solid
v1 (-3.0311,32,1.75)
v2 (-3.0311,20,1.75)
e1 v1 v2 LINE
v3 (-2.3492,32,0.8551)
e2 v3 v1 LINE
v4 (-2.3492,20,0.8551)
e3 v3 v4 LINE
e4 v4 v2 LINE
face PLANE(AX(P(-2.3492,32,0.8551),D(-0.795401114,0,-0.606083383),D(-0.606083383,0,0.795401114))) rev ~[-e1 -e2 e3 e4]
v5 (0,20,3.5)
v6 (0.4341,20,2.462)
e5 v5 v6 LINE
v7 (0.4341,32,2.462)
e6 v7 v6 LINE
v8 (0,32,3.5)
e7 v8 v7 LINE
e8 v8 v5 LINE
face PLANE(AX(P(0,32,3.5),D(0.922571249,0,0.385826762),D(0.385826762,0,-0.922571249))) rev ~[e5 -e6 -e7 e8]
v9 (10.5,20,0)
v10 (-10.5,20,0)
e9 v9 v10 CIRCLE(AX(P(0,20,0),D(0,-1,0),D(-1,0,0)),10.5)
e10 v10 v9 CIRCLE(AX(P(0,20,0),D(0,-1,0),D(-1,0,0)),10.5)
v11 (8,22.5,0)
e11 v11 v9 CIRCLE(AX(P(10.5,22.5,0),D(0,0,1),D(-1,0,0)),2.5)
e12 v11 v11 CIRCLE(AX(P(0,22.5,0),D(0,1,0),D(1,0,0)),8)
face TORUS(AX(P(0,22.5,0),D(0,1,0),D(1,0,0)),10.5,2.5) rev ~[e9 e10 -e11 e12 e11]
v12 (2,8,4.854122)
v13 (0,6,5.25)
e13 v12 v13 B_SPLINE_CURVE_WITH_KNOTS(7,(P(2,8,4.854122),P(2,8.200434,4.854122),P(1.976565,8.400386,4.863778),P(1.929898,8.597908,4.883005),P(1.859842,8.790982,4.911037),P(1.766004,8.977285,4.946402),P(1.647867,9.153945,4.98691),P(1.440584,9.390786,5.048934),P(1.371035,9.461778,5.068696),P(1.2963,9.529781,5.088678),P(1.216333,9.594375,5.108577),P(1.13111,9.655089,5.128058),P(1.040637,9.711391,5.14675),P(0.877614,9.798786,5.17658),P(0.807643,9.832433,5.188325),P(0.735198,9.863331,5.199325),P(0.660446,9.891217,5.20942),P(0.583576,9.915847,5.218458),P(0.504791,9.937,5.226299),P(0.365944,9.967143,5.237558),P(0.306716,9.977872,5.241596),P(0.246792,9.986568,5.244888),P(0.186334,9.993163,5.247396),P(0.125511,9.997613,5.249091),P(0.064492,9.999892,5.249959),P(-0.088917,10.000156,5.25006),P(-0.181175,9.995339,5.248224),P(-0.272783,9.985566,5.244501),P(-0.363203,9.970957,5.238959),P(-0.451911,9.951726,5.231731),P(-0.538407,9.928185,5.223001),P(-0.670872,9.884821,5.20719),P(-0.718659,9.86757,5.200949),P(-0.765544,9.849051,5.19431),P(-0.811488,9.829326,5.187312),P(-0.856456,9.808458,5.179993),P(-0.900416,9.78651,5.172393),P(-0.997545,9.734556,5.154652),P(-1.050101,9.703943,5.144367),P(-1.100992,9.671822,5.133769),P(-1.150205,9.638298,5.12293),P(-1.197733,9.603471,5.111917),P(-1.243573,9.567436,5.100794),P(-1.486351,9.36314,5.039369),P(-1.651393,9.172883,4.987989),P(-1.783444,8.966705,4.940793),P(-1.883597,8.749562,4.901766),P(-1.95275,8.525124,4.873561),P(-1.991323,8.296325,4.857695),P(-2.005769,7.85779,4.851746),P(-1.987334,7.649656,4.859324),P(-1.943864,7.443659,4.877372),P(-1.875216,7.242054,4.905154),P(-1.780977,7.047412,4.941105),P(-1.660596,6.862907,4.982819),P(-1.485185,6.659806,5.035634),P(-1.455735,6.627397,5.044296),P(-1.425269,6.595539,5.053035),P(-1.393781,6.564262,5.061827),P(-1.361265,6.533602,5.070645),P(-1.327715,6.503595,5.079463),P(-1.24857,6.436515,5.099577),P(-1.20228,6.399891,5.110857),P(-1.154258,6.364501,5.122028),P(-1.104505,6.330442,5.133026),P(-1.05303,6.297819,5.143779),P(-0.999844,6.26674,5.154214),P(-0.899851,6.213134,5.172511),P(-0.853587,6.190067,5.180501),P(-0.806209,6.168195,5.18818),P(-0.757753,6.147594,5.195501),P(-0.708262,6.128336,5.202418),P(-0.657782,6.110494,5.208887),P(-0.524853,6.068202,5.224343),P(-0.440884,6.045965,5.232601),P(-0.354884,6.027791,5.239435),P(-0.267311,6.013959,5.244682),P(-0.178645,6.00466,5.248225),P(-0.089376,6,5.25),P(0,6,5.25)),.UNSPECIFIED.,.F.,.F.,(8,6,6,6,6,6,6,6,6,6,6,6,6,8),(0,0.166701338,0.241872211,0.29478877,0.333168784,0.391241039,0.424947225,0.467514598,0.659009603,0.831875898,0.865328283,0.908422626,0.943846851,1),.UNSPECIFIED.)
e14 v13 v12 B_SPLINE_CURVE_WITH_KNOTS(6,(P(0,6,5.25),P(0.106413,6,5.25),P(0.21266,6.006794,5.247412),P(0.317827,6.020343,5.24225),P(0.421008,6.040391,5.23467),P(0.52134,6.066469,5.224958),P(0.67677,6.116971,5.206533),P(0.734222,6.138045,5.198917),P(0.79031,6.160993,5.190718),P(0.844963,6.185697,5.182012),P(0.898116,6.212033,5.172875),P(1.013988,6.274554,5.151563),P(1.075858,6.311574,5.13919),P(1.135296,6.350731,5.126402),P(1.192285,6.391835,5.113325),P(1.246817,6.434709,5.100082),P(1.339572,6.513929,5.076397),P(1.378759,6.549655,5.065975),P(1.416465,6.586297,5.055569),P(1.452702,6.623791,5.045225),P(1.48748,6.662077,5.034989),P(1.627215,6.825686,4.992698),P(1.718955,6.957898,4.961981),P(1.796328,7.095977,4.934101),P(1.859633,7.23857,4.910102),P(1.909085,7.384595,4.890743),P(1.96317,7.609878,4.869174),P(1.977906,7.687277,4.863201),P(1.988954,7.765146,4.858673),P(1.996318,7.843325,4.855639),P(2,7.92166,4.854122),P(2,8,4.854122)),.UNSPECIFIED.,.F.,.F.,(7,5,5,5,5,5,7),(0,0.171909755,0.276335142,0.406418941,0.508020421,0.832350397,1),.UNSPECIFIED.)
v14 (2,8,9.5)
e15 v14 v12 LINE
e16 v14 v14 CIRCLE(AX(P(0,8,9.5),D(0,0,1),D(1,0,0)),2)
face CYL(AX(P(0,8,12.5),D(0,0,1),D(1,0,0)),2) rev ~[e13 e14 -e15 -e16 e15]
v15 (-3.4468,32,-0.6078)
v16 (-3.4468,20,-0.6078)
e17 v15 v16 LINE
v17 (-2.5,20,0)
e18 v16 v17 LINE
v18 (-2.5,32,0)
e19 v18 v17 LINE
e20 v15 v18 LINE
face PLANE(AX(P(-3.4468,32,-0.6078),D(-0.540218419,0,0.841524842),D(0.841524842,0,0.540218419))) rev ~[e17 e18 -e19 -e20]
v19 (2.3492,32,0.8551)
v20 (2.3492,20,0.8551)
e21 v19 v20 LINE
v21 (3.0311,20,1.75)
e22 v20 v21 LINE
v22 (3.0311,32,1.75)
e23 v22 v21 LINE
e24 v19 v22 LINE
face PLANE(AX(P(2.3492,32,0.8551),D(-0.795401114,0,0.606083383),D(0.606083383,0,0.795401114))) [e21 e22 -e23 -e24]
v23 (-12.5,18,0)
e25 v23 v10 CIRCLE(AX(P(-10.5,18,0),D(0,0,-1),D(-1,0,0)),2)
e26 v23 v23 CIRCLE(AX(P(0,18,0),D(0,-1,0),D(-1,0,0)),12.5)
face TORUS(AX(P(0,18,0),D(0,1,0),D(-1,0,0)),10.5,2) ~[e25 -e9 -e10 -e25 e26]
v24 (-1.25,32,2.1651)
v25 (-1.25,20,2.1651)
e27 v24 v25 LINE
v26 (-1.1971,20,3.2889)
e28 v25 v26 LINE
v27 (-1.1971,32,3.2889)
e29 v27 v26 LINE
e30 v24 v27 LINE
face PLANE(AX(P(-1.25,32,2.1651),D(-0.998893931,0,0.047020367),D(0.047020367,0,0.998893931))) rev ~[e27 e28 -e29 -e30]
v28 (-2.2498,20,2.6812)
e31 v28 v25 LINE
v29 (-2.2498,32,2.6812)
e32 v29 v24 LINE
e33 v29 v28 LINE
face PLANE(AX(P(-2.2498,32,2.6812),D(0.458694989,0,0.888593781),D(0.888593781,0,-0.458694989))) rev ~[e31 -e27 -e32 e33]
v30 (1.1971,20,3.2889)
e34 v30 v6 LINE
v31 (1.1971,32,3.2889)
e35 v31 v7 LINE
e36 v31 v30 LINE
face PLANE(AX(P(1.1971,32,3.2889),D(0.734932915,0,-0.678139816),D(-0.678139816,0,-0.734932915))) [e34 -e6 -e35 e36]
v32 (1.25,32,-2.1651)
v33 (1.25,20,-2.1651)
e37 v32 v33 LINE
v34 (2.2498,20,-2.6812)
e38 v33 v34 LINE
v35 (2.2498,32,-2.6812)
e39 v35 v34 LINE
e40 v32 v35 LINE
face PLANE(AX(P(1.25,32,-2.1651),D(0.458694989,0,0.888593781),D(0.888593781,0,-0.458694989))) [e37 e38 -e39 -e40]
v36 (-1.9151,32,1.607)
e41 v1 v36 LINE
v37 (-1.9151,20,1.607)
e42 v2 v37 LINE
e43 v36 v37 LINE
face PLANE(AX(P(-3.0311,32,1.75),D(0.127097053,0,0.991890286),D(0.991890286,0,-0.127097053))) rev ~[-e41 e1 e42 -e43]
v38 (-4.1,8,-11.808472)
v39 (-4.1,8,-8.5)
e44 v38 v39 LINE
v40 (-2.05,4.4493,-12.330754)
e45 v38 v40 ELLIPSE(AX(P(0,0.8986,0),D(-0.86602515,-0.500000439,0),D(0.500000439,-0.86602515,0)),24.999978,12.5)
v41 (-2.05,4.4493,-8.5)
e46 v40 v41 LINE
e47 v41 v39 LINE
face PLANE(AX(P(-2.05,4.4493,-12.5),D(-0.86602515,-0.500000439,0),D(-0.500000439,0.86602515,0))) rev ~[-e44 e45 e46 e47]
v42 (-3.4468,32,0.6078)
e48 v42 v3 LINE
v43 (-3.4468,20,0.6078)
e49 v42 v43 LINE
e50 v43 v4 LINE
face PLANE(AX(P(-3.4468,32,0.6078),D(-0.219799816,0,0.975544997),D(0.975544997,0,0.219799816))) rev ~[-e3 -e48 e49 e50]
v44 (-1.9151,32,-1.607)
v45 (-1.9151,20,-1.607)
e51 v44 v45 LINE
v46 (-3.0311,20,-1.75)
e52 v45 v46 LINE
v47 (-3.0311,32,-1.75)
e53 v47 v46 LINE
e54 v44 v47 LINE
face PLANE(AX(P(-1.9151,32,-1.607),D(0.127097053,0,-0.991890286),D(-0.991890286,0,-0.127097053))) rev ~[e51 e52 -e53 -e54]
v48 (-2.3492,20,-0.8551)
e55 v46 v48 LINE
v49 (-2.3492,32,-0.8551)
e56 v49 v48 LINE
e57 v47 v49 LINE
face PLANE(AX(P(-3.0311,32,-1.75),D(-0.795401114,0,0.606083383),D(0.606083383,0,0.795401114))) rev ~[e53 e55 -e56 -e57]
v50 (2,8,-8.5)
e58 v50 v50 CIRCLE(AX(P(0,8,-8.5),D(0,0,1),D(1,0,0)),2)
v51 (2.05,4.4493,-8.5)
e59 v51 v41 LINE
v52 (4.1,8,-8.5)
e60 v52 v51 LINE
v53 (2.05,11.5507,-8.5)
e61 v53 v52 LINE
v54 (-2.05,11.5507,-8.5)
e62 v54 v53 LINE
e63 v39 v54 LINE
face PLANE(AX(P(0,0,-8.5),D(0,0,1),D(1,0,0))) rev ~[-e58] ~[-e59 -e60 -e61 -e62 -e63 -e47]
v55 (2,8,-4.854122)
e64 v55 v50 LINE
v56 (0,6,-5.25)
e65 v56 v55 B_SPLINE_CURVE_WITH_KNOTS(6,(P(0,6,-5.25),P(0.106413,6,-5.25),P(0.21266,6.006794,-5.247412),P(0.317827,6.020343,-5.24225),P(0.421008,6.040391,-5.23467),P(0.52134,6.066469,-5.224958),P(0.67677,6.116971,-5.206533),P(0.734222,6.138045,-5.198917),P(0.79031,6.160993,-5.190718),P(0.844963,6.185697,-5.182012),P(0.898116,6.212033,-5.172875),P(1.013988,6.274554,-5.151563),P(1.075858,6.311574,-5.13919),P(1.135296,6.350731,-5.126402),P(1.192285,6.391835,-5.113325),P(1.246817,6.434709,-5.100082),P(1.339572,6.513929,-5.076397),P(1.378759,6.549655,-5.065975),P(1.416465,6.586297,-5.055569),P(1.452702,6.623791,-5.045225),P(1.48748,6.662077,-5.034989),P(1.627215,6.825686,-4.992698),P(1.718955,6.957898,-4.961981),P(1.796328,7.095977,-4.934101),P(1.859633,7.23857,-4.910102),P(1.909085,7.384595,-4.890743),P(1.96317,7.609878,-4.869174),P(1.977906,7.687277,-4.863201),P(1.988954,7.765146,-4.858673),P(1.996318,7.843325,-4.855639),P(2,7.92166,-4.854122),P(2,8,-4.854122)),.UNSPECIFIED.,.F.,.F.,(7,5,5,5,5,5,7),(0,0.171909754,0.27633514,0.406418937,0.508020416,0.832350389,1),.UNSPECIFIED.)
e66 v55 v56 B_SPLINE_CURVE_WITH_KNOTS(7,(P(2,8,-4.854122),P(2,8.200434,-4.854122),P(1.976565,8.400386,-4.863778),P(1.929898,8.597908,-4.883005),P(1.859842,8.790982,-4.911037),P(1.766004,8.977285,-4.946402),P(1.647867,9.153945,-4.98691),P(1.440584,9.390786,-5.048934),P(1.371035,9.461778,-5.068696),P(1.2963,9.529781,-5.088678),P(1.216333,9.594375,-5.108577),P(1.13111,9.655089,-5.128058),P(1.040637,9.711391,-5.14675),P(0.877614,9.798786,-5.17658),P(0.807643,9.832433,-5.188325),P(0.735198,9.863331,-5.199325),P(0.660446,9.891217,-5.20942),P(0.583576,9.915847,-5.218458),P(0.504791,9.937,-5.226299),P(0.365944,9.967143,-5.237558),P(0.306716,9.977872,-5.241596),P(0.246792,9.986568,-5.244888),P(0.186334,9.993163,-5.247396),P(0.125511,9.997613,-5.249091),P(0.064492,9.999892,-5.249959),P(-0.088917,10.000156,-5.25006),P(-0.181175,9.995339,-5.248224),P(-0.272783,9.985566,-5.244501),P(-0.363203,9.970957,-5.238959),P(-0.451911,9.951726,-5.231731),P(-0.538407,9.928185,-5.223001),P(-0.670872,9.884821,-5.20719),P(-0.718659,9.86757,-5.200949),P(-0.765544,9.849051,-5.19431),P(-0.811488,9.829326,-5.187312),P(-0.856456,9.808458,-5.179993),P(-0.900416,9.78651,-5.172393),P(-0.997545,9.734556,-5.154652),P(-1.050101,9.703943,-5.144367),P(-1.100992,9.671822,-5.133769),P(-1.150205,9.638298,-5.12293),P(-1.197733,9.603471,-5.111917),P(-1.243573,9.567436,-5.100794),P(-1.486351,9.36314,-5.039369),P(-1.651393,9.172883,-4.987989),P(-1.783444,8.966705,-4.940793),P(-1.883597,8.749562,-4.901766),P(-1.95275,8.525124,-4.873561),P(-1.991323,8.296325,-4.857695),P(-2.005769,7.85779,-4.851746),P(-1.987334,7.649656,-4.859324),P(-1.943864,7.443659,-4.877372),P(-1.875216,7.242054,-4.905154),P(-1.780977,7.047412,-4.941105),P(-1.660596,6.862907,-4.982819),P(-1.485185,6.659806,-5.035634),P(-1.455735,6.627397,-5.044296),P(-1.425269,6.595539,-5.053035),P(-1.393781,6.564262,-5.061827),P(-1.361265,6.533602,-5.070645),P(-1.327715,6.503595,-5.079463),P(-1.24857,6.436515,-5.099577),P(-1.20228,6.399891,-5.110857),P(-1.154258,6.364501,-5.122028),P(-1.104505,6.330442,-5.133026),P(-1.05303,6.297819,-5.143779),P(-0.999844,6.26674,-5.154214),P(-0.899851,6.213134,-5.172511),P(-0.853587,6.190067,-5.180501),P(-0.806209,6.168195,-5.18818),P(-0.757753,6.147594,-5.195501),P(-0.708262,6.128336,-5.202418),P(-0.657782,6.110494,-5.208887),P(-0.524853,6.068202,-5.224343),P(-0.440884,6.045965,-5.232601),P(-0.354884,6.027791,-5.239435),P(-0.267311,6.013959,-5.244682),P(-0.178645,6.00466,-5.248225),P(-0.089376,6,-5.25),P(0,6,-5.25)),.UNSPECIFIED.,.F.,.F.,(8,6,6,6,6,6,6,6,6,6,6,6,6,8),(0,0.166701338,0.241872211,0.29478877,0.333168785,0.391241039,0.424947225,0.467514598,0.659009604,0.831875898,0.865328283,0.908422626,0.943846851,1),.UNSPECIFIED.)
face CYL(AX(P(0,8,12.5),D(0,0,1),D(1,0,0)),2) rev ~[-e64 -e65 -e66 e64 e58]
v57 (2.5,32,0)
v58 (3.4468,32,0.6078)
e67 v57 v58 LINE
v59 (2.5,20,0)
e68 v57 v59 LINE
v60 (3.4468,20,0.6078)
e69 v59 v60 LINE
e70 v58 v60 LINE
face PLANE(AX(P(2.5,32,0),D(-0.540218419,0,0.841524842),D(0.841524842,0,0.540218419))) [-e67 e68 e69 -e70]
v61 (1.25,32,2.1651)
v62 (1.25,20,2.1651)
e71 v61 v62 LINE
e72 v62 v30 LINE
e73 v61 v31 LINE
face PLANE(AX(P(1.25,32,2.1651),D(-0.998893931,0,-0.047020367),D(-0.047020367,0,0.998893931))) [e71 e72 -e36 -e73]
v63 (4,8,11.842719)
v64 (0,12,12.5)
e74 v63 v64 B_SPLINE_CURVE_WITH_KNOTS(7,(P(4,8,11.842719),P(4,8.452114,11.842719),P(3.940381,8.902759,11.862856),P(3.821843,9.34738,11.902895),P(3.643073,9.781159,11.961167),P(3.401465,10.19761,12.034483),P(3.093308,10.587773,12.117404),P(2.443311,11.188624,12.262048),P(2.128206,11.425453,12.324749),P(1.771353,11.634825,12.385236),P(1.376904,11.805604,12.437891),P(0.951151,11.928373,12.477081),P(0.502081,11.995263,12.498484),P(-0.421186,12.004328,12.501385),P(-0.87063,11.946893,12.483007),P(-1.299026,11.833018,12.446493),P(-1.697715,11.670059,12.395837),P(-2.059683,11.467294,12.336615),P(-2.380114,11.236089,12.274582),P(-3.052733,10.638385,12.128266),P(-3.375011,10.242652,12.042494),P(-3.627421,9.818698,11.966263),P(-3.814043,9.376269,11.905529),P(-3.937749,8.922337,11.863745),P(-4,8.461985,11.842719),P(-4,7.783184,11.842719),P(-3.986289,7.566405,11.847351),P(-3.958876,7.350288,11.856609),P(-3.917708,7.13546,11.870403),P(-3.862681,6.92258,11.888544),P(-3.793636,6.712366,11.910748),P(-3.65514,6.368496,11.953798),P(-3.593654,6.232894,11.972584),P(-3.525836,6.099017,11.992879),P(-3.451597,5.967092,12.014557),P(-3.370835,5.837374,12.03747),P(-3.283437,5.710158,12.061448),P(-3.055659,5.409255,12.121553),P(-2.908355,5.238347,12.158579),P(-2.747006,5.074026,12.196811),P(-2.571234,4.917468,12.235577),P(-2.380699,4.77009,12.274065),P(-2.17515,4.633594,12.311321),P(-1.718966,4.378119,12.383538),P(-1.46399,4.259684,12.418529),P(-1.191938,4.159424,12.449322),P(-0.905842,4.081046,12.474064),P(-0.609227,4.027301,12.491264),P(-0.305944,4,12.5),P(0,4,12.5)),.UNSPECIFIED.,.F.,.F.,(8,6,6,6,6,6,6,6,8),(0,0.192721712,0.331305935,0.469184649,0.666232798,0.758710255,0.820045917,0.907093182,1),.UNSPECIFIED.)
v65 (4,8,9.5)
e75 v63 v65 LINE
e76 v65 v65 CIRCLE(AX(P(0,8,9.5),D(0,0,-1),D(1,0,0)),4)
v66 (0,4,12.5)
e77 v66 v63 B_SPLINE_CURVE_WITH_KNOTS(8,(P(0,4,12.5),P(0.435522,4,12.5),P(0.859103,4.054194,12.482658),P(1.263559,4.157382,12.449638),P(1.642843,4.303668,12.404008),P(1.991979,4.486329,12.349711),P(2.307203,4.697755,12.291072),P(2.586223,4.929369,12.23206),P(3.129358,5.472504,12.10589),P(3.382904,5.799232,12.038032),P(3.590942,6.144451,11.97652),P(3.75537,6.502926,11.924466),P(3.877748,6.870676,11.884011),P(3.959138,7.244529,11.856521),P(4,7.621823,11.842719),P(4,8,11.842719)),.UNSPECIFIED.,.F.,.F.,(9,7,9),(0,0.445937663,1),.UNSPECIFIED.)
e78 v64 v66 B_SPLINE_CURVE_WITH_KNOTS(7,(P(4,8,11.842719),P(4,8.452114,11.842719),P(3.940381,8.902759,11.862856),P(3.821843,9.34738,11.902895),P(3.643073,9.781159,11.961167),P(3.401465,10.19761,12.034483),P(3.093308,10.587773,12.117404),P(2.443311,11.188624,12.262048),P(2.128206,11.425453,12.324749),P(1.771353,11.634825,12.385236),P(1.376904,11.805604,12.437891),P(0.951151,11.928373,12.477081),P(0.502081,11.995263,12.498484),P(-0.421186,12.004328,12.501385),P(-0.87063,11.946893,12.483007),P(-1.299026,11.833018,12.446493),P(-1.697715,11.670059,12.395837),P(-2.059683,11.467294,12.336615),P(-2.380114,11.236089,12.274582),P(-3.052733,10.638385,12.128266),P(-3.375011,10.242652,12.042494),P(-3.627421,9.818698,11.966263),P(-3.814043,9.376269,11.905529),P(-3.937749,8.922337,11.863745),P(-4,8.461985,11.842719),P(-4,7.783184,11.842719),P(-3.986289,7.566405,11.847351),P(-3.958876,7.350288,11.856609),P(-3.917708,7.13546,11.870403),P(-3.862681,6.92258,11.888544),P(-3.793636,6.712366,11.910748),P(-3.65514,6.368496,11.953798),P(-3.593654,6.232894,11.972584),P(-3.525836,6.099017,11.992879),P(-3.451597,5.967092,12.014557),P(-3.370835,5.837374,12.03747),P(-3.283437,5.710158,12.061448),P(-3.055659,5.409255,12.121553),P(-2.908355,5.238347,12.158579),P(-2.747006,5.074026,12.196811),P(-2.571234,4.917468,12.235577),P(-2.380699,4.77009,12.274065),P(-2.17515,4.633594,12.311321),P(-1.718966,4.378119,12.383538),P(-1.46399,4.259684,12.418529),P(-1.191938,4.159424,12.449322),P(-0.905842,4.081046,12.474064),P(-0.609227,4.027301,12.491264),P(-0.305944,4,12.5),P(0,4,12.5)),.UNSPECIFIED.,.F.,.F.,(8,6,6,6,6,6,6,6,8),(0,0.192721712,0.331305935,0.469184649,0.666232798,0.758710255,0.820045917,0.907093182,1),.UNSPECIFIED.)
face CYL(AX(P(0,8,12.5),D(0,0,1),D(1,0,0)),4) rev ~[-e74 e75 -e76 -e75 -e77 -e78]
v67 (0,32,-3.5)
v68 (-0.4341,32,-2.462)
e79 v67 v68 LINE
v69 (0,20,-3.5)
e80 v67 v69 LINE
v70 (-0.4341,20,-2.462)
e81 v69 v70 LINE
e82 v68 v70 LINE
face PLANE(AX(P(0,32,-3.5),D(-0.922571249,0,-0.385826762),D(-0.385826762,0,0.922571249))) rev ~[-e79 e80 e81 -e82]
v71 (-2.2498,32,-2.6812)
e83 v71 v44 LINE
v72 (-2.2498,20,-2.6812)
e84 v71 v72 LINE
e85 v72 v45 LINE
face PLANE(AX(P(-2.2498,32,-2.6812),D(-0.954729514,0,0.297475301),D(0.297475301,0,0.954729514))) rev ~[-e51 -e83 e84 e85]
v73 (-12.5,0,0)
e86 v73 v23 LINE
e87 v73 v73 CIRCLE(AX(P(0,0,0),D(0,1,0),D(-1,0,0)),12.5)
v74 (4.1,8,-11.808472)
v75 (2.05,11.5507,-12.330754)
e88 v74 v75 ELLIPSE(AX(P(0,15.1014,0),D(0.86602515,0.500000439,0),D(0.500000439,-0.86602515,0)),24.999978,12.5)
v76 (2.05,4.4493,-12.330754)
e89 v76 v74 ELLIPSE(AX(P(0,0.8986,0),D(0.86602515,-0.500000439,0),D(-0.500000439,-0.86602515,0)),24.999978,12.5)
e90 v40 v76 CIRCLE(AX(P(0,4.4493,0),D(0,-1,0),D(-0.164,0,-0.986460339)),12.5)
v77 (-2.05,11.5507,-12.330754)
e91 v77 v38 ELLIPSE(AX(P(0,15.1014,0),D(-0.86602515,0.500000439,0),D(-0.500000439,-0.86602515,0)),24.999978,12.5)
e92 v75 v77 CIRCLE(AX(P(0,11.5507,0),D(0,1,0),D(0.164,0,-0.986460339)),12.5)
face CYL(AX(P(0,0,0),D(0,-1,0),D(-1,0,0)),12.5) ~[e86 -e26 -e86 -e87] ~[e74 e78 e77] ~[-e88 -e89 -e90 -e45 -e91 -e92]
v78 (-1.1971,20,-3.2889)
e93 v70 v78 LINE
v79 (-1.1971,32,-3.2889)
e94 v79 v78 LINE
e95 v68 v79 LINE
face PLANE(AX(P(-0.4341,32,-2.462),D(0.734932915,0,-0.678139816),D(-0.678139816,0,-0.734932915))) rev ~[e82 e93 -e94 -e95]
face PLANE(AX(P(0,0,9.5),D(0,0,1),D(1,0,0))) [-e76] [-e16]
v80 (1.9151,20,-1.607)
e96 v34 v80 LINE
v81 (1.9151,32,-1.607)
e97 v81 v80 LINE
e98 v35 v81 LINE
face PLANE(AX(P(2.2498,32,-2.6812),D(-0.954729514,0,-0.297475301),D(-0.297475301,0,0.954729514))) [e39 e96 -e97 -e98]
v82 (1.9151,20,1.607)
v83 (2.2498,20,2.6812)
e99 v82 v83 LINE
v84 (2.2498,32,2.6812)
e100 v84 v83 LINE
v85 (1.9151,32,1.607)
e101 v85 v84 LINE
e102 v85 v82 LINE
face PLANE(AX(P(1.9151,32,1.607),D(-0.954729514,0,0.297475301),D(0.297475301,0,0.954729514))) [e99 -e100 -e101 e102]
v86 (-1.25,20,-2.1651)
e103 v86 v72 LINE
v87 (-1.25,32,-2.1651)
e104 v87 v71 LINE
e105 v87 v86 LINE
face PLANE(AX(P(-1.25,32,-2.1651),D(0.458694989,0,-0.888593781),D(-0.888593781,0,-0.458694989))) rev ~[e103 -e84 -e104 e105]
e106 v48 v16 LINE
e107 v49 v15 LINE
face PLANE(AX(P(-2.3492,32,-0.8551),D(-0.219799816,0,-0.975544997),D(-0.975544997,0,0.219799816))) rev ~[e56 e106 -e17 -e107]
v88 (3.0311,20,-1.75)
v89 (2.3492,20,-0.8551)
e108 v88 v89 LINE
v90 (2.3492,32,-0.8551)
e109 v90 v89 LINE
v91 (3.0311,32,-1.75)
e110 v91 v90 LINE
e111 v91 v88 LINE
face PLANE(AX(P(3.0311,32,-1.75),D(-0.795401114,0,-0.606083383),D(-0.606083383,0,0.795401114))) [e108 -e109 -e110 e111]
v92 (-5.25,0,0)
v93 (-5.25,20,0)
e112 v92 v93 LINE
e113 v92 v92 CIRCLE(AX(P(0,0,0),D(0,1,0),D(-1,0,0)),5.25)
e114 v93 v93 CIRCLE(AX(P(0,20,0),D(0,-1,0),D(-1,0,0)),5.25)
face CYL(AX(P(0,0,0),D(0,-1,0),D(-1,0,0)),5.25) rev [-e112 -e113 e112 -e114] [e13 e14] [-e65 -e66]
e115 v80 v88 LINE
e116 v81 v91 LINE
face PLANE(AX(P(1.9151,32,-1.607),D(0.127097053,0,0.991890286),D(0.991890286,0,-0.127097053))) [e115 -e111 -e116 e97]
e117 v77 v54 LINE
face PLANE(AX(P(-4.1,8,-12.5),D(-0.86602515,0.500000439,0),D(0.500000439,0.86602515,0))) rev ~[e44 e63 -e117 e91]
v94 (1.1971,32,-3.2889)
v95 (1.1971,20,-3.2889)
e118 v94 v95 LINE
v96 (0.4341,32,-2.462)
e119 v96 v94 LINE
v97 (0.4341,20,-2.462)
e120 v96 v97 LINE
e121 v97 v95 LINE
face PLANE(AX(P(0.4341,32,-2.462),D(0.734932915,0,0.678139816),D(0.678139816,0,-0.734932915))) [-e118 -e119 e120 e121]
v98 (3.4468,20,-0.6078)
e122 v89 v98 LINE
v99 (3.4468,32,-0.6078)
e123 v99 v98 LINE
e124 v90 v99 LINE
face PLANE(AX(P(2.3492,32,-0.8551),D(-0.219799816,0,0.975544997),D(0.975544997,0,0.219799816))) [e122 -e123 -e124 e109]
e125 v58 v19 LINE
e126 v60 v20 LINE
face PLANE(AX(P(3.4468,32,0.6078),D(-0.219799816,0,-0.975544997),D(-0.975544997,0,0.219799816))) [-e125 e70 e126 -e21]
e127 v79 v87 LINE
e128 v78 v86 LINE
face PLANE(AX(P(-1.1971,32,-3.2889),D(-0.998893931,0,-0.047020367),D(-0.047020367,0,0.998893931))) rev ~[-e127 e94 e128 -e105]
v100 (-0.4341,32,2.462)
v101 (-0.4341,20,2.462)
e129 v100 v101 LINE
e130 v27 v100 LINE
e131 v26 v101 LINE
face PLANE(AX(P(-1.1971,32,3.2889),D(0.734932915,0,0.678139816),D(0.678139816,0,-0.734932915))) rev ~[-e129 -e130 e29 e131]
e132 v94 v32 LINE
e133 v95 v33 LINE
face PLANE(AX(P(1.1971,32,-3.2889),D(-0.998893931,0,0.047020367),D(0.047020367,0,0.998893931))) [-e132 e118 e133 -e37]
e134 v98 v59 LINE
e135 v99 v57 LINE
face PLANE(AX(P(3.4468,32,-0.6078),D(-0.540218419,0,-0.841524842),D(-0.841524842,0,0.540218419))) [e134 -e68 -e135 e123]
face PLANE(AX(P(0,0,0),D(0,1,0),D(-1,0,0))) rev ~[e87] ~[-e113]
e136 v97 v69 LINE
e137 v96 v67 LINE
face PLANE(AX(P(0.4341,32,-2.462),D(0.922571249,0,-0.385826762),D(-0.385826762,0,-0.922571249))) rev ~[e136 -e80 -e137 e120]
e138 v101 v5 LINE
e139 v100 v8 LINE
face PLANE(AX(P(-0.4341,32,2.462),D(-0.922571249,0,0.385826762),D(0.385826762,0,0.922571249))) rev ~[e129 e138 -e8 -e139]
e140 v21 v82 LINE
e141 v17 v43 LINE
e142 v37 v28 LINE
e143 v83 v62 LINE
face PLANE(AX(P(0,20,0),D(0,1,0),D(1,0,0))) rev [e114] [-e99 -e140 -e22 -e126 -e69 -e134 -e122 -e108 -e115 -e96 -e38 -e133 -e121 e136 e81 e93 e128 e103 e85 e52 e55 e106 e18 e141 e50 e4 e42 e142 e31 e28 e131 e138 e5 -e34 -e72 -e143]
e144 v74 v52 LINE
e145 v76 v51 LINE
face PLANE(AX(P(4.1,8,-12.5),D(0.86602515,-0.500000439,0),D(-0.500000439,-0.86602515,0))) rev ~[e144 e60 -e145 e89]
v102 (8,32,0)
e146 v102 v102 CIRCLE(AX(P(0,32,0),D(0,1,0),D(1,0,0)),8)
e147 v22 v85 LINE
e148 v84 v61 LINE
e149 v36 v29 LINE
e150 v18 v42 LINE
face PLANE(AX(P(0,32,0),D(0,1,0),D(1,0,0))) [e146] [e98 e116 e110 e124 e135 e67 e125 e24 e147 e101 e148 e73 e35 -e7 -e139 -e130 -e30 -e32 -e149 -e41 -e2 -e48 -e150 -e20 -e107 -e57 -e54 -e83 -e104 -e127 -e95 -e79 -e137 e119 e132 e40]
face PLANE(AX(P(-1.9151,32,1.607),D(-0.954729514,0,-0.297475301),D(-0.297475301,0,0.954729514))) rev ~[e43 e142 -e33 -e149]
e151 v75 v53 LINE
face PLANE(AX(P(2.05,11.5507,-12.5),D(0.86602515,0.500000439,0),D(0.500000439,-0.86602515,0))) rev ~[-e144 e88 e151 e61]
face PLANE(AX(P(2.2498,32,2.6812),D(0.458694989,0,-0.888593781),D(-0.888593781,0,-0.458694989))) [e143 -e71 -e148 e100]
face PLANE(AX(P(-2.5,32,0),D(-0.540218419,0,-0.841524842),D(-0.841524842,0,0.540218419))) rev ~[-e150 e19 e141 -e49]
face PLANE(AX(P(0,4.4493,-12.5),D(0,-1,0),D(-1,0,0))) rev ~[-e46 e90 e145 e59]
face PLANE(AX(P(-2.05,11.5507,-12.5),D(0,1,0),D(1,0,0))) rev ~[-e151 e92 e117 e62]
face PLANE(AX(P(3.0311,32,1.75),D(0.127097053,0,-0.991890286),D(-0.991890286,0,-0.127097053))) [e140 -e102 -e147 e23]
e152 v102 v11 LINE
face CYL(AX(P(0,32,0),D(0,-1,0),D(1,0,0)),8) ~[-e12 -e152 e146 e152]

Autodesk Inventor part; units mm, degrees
sketch "스케치1" plane through (0, 0, 0) normal (0, 1, 0) x (-1, 0, 0)
  line L0 (17.5, 0) -> (-17.5, 0) projected
  line L1 (0, -17.5) -> (0, 17.5) projected
  circle A0 centre (0, 0) radius 5.25
  circle A1 centre (0, 0) radius 12.5
  dimension "d0" = 10.5
  dimension "d1" = 25
extrude "돌출1" add sketch "스케치1" along normal blind 20 contours A1 L1 A0 L0 | L0 A0 L1 A1 | L1 A0 L0 A1 | A1 L0 A0 L1
ref_plane "작업 평면1" through (0, 0, 12.5) normal (0, 0, 1) x (1, 0, 0)
sketch "스케치2" plane through (0, 0, 12.5) normal (0, 0, 1) x (1, 0, 0)
  line L0 (0, 0) -> (0, 8)
  circle A0 centre (0, 8) radius 2
  dimension "d5" = 8
  dimension "d6" = 4
extrude "돌출2" cut sketch "스케치2" against normal blind 40
sketch "스케치3" plane through (0, 0, 12.5) normal (0, 0, 1) x (1, 0, 0)
  line L0 (0, 0) -> (0, 8)
  circle A0 centre (0, 8) radius 4
  point P0 (0, 6)
  point P1 (0, 10)
  dimension "d10" = 8
  dimension "d11" = 8
extrude "돌출3" cut sketch "스케치3" against normal blind 3
ref_plane "작업 평면2" through (0, 0, -12.5) normal (0, 0, 1) x (1, 0, 0)
sketch "스케치4" plane through (0, 0, -12.5) normal (0, 0, 1) x (1, 0, 0)
  line L0 (0, 0) -> (0, 8)
  circle A0 centre (0, 8) radius 2 projected
  line L1 (0, 8) -> (-2.05, 4.4493)
  line L2 (0, 8) -> (2.05, 4.4493)
  line L3 (2.05, 4.4493) -> (-2.05, 4.4493)
  line L4 (4.1, 8) -> (2.05, 4.4493)
  line L5 (2.05, 11.5507) -> (4.1, 8)
  line L6 (-2.05, 11.5507) -> (2.05, 11.5507)
  line L7 (-4.1, 8) -> (-2.05, 11.5507)
  line L8 (-2.05, 4.4493) -> (-4.1, 8)
  point P0 (2.05, 4.4493)
  point P1 (4.1, 8)
  point P2 (2.05, 11.5507)
  point P3 (-2.05, 11.5507)
  point P4 (-4.1, 8)
  point P5 (-2.05, 4.4493)
  dimension "d15" = 8
  dimension "d16" = 4.1
  dimension "d17" = 30
  dimension "d20" = 360
extrude "돌출4" cut sketch "스케치4" along normal blind 4
fillet "모깎기1" radius 2 1 edges at (12.5, 20, 0)
sketch "스케치6" plane through (0, 0, 0) normal (0, 0, 1) x (1, 0, 0)
  line L0 (8, 32) -> (8, 22.5)
  line L1 (-15.1828, 0) -> (17.5971, 0) projected
  line L2 (0, -6.4) -> (0, 38.4) projected
  arc A0 (12.5, 18) -> (10.5, 20) centre (10.5, 18) ccw projected
  arc A1 (8, 22.5) -> (10.5, 20) centre (10.5, 22.5) ccw
  line L3 (-10.5, 20) -> (10.5, 20) projected
  line L4 (8, 32) -> (0, 32)
  point P0 (0, 0)
  point P1 (0, 20)
  dimension "d24" = 8
  dimension "d26" = 12
revolve "회전1" add sketch "스케치6" angle 360 about axis through (0, -10, 0) along (0, 1, 0)
ref_plane "작업 평면3" through (0, 0, 8) normal (0, 0, 1) x (1, 0, 0)
sketch "스케치8" plane through (0, 32, 0) normal (0, 1, 0) x (1, 0, 0)
  circle A0 centre (0, 0) radius 2.5
  line L0 (0, 3.5) -> (-0.4341, 2.462)
  line L1 (-0.4341, 2.462) -> (0, 3.5)
  line L2 (0, 17.5005) -> (0, -17.5027) projected
  line L3 (0.4341, 2.462) -> (0, 3.5)
  line L4 (-1.1971, 3.2889) -> (-1.25, 2.1651)
  line L5 (-0.4341, 2.462) -> (-1.1971, 3.2889)
  line L6 (-2.2498, 2.6812) -> (-1.9151, 1.607)
  line L7 (-1.25, 2.1651) -> (-2.2498, 2.6812)
  line L8 (-3.0311, 1.75) -> (-2.3492, 0.8551)
  line L9 (-1.9151, 1.607) -> (-3.0311, 1.75)
  line L10 (-3.4468, 0.6078) -> (-2.5, 0)
  line L11 (-2.3492, 0.8551) -> (-3.4468, 0.6078)
  line L12 (-3.4468, -0.6078) -> (-2.3492, -0.8551)
  line L13 (-2.5, 0) -> (-3.4468, -0.6078)
  line L14 (-3.0311, -1.75) -> (-1.9151, -1.607)
  line L15 (-2.3492, -0.8551) -> (-3.0311, -1.75)
  line L16 (-2.2498, -2.6812) -> (-1.25, -2.1651)
  line L17 (-1.9151, -1.607) -> (-2.2498, -2.6812)
  line L18 (-1.1971, -3.2889) -> (-0.4341, -2.462)
  line L19 (-1.25, -2.1651) -> (-1.1971, -3.2889)
  line L20 (0, -3.5) -> (0.4341, -2.462)
  line L21 (-0.4341, -2.462) -> (0, -3.5)
  line L22 (1.1971, 3.2889) -> (1.25, 2.1651)
  line L23 (0.4341, 2.462) -> (1.1971, 3.2889)
  line L24 (2.2498, 2.6812) -> (1.9151, 1.607)
  line L25 (1.25, 2.1651) -> (2.2498, 2.6812)
  line L26 (3.0311, 1.75) -> (2.3492, 0.8551)
  line L27 (1.9151, 1.607) -> (3.0311, 1.75)
  line L28 (3.4468, 0.6078) -> (2.5, 0)
  line L29 (2.3492, 0.8551) -> (3.4468, 0.6078)
  line L30 (3.4468, -0.6078) -> (2.3492, -0.8551)
  line L31 (2.5, 0) -> (3.4468, -0.6078)
  line L32 (3.0311, -1.75) -> (1.9151, -1.607)
  line L33 (2.3492, -0.8551) -> (3.0311, -1.75)
  line L34 (2.2498, -2.6812) -> (1.25, -2.1651)
  line L35 (1.9151, -1.607) -> (2.2498, -2.6812)
  line L36 (1.1971, -3.2889) -> (0.4341, -2.462)
  line L37 (1.25, -2.1651) -> (1.1971, -3.2889)
  line L38 (0, 2.5) -> (0, 3.5)
  point P0 (-2.5, 0)
  point P1 (2.5, 0)
  dimension "d33" = 5
  dimension "d36" = 180
  dimension "d38" = 1
extrude "돌출6" cut sketch "스케치8" against normal up to surface (12 mm away)
properties part number "가변저항-조향 연결"
